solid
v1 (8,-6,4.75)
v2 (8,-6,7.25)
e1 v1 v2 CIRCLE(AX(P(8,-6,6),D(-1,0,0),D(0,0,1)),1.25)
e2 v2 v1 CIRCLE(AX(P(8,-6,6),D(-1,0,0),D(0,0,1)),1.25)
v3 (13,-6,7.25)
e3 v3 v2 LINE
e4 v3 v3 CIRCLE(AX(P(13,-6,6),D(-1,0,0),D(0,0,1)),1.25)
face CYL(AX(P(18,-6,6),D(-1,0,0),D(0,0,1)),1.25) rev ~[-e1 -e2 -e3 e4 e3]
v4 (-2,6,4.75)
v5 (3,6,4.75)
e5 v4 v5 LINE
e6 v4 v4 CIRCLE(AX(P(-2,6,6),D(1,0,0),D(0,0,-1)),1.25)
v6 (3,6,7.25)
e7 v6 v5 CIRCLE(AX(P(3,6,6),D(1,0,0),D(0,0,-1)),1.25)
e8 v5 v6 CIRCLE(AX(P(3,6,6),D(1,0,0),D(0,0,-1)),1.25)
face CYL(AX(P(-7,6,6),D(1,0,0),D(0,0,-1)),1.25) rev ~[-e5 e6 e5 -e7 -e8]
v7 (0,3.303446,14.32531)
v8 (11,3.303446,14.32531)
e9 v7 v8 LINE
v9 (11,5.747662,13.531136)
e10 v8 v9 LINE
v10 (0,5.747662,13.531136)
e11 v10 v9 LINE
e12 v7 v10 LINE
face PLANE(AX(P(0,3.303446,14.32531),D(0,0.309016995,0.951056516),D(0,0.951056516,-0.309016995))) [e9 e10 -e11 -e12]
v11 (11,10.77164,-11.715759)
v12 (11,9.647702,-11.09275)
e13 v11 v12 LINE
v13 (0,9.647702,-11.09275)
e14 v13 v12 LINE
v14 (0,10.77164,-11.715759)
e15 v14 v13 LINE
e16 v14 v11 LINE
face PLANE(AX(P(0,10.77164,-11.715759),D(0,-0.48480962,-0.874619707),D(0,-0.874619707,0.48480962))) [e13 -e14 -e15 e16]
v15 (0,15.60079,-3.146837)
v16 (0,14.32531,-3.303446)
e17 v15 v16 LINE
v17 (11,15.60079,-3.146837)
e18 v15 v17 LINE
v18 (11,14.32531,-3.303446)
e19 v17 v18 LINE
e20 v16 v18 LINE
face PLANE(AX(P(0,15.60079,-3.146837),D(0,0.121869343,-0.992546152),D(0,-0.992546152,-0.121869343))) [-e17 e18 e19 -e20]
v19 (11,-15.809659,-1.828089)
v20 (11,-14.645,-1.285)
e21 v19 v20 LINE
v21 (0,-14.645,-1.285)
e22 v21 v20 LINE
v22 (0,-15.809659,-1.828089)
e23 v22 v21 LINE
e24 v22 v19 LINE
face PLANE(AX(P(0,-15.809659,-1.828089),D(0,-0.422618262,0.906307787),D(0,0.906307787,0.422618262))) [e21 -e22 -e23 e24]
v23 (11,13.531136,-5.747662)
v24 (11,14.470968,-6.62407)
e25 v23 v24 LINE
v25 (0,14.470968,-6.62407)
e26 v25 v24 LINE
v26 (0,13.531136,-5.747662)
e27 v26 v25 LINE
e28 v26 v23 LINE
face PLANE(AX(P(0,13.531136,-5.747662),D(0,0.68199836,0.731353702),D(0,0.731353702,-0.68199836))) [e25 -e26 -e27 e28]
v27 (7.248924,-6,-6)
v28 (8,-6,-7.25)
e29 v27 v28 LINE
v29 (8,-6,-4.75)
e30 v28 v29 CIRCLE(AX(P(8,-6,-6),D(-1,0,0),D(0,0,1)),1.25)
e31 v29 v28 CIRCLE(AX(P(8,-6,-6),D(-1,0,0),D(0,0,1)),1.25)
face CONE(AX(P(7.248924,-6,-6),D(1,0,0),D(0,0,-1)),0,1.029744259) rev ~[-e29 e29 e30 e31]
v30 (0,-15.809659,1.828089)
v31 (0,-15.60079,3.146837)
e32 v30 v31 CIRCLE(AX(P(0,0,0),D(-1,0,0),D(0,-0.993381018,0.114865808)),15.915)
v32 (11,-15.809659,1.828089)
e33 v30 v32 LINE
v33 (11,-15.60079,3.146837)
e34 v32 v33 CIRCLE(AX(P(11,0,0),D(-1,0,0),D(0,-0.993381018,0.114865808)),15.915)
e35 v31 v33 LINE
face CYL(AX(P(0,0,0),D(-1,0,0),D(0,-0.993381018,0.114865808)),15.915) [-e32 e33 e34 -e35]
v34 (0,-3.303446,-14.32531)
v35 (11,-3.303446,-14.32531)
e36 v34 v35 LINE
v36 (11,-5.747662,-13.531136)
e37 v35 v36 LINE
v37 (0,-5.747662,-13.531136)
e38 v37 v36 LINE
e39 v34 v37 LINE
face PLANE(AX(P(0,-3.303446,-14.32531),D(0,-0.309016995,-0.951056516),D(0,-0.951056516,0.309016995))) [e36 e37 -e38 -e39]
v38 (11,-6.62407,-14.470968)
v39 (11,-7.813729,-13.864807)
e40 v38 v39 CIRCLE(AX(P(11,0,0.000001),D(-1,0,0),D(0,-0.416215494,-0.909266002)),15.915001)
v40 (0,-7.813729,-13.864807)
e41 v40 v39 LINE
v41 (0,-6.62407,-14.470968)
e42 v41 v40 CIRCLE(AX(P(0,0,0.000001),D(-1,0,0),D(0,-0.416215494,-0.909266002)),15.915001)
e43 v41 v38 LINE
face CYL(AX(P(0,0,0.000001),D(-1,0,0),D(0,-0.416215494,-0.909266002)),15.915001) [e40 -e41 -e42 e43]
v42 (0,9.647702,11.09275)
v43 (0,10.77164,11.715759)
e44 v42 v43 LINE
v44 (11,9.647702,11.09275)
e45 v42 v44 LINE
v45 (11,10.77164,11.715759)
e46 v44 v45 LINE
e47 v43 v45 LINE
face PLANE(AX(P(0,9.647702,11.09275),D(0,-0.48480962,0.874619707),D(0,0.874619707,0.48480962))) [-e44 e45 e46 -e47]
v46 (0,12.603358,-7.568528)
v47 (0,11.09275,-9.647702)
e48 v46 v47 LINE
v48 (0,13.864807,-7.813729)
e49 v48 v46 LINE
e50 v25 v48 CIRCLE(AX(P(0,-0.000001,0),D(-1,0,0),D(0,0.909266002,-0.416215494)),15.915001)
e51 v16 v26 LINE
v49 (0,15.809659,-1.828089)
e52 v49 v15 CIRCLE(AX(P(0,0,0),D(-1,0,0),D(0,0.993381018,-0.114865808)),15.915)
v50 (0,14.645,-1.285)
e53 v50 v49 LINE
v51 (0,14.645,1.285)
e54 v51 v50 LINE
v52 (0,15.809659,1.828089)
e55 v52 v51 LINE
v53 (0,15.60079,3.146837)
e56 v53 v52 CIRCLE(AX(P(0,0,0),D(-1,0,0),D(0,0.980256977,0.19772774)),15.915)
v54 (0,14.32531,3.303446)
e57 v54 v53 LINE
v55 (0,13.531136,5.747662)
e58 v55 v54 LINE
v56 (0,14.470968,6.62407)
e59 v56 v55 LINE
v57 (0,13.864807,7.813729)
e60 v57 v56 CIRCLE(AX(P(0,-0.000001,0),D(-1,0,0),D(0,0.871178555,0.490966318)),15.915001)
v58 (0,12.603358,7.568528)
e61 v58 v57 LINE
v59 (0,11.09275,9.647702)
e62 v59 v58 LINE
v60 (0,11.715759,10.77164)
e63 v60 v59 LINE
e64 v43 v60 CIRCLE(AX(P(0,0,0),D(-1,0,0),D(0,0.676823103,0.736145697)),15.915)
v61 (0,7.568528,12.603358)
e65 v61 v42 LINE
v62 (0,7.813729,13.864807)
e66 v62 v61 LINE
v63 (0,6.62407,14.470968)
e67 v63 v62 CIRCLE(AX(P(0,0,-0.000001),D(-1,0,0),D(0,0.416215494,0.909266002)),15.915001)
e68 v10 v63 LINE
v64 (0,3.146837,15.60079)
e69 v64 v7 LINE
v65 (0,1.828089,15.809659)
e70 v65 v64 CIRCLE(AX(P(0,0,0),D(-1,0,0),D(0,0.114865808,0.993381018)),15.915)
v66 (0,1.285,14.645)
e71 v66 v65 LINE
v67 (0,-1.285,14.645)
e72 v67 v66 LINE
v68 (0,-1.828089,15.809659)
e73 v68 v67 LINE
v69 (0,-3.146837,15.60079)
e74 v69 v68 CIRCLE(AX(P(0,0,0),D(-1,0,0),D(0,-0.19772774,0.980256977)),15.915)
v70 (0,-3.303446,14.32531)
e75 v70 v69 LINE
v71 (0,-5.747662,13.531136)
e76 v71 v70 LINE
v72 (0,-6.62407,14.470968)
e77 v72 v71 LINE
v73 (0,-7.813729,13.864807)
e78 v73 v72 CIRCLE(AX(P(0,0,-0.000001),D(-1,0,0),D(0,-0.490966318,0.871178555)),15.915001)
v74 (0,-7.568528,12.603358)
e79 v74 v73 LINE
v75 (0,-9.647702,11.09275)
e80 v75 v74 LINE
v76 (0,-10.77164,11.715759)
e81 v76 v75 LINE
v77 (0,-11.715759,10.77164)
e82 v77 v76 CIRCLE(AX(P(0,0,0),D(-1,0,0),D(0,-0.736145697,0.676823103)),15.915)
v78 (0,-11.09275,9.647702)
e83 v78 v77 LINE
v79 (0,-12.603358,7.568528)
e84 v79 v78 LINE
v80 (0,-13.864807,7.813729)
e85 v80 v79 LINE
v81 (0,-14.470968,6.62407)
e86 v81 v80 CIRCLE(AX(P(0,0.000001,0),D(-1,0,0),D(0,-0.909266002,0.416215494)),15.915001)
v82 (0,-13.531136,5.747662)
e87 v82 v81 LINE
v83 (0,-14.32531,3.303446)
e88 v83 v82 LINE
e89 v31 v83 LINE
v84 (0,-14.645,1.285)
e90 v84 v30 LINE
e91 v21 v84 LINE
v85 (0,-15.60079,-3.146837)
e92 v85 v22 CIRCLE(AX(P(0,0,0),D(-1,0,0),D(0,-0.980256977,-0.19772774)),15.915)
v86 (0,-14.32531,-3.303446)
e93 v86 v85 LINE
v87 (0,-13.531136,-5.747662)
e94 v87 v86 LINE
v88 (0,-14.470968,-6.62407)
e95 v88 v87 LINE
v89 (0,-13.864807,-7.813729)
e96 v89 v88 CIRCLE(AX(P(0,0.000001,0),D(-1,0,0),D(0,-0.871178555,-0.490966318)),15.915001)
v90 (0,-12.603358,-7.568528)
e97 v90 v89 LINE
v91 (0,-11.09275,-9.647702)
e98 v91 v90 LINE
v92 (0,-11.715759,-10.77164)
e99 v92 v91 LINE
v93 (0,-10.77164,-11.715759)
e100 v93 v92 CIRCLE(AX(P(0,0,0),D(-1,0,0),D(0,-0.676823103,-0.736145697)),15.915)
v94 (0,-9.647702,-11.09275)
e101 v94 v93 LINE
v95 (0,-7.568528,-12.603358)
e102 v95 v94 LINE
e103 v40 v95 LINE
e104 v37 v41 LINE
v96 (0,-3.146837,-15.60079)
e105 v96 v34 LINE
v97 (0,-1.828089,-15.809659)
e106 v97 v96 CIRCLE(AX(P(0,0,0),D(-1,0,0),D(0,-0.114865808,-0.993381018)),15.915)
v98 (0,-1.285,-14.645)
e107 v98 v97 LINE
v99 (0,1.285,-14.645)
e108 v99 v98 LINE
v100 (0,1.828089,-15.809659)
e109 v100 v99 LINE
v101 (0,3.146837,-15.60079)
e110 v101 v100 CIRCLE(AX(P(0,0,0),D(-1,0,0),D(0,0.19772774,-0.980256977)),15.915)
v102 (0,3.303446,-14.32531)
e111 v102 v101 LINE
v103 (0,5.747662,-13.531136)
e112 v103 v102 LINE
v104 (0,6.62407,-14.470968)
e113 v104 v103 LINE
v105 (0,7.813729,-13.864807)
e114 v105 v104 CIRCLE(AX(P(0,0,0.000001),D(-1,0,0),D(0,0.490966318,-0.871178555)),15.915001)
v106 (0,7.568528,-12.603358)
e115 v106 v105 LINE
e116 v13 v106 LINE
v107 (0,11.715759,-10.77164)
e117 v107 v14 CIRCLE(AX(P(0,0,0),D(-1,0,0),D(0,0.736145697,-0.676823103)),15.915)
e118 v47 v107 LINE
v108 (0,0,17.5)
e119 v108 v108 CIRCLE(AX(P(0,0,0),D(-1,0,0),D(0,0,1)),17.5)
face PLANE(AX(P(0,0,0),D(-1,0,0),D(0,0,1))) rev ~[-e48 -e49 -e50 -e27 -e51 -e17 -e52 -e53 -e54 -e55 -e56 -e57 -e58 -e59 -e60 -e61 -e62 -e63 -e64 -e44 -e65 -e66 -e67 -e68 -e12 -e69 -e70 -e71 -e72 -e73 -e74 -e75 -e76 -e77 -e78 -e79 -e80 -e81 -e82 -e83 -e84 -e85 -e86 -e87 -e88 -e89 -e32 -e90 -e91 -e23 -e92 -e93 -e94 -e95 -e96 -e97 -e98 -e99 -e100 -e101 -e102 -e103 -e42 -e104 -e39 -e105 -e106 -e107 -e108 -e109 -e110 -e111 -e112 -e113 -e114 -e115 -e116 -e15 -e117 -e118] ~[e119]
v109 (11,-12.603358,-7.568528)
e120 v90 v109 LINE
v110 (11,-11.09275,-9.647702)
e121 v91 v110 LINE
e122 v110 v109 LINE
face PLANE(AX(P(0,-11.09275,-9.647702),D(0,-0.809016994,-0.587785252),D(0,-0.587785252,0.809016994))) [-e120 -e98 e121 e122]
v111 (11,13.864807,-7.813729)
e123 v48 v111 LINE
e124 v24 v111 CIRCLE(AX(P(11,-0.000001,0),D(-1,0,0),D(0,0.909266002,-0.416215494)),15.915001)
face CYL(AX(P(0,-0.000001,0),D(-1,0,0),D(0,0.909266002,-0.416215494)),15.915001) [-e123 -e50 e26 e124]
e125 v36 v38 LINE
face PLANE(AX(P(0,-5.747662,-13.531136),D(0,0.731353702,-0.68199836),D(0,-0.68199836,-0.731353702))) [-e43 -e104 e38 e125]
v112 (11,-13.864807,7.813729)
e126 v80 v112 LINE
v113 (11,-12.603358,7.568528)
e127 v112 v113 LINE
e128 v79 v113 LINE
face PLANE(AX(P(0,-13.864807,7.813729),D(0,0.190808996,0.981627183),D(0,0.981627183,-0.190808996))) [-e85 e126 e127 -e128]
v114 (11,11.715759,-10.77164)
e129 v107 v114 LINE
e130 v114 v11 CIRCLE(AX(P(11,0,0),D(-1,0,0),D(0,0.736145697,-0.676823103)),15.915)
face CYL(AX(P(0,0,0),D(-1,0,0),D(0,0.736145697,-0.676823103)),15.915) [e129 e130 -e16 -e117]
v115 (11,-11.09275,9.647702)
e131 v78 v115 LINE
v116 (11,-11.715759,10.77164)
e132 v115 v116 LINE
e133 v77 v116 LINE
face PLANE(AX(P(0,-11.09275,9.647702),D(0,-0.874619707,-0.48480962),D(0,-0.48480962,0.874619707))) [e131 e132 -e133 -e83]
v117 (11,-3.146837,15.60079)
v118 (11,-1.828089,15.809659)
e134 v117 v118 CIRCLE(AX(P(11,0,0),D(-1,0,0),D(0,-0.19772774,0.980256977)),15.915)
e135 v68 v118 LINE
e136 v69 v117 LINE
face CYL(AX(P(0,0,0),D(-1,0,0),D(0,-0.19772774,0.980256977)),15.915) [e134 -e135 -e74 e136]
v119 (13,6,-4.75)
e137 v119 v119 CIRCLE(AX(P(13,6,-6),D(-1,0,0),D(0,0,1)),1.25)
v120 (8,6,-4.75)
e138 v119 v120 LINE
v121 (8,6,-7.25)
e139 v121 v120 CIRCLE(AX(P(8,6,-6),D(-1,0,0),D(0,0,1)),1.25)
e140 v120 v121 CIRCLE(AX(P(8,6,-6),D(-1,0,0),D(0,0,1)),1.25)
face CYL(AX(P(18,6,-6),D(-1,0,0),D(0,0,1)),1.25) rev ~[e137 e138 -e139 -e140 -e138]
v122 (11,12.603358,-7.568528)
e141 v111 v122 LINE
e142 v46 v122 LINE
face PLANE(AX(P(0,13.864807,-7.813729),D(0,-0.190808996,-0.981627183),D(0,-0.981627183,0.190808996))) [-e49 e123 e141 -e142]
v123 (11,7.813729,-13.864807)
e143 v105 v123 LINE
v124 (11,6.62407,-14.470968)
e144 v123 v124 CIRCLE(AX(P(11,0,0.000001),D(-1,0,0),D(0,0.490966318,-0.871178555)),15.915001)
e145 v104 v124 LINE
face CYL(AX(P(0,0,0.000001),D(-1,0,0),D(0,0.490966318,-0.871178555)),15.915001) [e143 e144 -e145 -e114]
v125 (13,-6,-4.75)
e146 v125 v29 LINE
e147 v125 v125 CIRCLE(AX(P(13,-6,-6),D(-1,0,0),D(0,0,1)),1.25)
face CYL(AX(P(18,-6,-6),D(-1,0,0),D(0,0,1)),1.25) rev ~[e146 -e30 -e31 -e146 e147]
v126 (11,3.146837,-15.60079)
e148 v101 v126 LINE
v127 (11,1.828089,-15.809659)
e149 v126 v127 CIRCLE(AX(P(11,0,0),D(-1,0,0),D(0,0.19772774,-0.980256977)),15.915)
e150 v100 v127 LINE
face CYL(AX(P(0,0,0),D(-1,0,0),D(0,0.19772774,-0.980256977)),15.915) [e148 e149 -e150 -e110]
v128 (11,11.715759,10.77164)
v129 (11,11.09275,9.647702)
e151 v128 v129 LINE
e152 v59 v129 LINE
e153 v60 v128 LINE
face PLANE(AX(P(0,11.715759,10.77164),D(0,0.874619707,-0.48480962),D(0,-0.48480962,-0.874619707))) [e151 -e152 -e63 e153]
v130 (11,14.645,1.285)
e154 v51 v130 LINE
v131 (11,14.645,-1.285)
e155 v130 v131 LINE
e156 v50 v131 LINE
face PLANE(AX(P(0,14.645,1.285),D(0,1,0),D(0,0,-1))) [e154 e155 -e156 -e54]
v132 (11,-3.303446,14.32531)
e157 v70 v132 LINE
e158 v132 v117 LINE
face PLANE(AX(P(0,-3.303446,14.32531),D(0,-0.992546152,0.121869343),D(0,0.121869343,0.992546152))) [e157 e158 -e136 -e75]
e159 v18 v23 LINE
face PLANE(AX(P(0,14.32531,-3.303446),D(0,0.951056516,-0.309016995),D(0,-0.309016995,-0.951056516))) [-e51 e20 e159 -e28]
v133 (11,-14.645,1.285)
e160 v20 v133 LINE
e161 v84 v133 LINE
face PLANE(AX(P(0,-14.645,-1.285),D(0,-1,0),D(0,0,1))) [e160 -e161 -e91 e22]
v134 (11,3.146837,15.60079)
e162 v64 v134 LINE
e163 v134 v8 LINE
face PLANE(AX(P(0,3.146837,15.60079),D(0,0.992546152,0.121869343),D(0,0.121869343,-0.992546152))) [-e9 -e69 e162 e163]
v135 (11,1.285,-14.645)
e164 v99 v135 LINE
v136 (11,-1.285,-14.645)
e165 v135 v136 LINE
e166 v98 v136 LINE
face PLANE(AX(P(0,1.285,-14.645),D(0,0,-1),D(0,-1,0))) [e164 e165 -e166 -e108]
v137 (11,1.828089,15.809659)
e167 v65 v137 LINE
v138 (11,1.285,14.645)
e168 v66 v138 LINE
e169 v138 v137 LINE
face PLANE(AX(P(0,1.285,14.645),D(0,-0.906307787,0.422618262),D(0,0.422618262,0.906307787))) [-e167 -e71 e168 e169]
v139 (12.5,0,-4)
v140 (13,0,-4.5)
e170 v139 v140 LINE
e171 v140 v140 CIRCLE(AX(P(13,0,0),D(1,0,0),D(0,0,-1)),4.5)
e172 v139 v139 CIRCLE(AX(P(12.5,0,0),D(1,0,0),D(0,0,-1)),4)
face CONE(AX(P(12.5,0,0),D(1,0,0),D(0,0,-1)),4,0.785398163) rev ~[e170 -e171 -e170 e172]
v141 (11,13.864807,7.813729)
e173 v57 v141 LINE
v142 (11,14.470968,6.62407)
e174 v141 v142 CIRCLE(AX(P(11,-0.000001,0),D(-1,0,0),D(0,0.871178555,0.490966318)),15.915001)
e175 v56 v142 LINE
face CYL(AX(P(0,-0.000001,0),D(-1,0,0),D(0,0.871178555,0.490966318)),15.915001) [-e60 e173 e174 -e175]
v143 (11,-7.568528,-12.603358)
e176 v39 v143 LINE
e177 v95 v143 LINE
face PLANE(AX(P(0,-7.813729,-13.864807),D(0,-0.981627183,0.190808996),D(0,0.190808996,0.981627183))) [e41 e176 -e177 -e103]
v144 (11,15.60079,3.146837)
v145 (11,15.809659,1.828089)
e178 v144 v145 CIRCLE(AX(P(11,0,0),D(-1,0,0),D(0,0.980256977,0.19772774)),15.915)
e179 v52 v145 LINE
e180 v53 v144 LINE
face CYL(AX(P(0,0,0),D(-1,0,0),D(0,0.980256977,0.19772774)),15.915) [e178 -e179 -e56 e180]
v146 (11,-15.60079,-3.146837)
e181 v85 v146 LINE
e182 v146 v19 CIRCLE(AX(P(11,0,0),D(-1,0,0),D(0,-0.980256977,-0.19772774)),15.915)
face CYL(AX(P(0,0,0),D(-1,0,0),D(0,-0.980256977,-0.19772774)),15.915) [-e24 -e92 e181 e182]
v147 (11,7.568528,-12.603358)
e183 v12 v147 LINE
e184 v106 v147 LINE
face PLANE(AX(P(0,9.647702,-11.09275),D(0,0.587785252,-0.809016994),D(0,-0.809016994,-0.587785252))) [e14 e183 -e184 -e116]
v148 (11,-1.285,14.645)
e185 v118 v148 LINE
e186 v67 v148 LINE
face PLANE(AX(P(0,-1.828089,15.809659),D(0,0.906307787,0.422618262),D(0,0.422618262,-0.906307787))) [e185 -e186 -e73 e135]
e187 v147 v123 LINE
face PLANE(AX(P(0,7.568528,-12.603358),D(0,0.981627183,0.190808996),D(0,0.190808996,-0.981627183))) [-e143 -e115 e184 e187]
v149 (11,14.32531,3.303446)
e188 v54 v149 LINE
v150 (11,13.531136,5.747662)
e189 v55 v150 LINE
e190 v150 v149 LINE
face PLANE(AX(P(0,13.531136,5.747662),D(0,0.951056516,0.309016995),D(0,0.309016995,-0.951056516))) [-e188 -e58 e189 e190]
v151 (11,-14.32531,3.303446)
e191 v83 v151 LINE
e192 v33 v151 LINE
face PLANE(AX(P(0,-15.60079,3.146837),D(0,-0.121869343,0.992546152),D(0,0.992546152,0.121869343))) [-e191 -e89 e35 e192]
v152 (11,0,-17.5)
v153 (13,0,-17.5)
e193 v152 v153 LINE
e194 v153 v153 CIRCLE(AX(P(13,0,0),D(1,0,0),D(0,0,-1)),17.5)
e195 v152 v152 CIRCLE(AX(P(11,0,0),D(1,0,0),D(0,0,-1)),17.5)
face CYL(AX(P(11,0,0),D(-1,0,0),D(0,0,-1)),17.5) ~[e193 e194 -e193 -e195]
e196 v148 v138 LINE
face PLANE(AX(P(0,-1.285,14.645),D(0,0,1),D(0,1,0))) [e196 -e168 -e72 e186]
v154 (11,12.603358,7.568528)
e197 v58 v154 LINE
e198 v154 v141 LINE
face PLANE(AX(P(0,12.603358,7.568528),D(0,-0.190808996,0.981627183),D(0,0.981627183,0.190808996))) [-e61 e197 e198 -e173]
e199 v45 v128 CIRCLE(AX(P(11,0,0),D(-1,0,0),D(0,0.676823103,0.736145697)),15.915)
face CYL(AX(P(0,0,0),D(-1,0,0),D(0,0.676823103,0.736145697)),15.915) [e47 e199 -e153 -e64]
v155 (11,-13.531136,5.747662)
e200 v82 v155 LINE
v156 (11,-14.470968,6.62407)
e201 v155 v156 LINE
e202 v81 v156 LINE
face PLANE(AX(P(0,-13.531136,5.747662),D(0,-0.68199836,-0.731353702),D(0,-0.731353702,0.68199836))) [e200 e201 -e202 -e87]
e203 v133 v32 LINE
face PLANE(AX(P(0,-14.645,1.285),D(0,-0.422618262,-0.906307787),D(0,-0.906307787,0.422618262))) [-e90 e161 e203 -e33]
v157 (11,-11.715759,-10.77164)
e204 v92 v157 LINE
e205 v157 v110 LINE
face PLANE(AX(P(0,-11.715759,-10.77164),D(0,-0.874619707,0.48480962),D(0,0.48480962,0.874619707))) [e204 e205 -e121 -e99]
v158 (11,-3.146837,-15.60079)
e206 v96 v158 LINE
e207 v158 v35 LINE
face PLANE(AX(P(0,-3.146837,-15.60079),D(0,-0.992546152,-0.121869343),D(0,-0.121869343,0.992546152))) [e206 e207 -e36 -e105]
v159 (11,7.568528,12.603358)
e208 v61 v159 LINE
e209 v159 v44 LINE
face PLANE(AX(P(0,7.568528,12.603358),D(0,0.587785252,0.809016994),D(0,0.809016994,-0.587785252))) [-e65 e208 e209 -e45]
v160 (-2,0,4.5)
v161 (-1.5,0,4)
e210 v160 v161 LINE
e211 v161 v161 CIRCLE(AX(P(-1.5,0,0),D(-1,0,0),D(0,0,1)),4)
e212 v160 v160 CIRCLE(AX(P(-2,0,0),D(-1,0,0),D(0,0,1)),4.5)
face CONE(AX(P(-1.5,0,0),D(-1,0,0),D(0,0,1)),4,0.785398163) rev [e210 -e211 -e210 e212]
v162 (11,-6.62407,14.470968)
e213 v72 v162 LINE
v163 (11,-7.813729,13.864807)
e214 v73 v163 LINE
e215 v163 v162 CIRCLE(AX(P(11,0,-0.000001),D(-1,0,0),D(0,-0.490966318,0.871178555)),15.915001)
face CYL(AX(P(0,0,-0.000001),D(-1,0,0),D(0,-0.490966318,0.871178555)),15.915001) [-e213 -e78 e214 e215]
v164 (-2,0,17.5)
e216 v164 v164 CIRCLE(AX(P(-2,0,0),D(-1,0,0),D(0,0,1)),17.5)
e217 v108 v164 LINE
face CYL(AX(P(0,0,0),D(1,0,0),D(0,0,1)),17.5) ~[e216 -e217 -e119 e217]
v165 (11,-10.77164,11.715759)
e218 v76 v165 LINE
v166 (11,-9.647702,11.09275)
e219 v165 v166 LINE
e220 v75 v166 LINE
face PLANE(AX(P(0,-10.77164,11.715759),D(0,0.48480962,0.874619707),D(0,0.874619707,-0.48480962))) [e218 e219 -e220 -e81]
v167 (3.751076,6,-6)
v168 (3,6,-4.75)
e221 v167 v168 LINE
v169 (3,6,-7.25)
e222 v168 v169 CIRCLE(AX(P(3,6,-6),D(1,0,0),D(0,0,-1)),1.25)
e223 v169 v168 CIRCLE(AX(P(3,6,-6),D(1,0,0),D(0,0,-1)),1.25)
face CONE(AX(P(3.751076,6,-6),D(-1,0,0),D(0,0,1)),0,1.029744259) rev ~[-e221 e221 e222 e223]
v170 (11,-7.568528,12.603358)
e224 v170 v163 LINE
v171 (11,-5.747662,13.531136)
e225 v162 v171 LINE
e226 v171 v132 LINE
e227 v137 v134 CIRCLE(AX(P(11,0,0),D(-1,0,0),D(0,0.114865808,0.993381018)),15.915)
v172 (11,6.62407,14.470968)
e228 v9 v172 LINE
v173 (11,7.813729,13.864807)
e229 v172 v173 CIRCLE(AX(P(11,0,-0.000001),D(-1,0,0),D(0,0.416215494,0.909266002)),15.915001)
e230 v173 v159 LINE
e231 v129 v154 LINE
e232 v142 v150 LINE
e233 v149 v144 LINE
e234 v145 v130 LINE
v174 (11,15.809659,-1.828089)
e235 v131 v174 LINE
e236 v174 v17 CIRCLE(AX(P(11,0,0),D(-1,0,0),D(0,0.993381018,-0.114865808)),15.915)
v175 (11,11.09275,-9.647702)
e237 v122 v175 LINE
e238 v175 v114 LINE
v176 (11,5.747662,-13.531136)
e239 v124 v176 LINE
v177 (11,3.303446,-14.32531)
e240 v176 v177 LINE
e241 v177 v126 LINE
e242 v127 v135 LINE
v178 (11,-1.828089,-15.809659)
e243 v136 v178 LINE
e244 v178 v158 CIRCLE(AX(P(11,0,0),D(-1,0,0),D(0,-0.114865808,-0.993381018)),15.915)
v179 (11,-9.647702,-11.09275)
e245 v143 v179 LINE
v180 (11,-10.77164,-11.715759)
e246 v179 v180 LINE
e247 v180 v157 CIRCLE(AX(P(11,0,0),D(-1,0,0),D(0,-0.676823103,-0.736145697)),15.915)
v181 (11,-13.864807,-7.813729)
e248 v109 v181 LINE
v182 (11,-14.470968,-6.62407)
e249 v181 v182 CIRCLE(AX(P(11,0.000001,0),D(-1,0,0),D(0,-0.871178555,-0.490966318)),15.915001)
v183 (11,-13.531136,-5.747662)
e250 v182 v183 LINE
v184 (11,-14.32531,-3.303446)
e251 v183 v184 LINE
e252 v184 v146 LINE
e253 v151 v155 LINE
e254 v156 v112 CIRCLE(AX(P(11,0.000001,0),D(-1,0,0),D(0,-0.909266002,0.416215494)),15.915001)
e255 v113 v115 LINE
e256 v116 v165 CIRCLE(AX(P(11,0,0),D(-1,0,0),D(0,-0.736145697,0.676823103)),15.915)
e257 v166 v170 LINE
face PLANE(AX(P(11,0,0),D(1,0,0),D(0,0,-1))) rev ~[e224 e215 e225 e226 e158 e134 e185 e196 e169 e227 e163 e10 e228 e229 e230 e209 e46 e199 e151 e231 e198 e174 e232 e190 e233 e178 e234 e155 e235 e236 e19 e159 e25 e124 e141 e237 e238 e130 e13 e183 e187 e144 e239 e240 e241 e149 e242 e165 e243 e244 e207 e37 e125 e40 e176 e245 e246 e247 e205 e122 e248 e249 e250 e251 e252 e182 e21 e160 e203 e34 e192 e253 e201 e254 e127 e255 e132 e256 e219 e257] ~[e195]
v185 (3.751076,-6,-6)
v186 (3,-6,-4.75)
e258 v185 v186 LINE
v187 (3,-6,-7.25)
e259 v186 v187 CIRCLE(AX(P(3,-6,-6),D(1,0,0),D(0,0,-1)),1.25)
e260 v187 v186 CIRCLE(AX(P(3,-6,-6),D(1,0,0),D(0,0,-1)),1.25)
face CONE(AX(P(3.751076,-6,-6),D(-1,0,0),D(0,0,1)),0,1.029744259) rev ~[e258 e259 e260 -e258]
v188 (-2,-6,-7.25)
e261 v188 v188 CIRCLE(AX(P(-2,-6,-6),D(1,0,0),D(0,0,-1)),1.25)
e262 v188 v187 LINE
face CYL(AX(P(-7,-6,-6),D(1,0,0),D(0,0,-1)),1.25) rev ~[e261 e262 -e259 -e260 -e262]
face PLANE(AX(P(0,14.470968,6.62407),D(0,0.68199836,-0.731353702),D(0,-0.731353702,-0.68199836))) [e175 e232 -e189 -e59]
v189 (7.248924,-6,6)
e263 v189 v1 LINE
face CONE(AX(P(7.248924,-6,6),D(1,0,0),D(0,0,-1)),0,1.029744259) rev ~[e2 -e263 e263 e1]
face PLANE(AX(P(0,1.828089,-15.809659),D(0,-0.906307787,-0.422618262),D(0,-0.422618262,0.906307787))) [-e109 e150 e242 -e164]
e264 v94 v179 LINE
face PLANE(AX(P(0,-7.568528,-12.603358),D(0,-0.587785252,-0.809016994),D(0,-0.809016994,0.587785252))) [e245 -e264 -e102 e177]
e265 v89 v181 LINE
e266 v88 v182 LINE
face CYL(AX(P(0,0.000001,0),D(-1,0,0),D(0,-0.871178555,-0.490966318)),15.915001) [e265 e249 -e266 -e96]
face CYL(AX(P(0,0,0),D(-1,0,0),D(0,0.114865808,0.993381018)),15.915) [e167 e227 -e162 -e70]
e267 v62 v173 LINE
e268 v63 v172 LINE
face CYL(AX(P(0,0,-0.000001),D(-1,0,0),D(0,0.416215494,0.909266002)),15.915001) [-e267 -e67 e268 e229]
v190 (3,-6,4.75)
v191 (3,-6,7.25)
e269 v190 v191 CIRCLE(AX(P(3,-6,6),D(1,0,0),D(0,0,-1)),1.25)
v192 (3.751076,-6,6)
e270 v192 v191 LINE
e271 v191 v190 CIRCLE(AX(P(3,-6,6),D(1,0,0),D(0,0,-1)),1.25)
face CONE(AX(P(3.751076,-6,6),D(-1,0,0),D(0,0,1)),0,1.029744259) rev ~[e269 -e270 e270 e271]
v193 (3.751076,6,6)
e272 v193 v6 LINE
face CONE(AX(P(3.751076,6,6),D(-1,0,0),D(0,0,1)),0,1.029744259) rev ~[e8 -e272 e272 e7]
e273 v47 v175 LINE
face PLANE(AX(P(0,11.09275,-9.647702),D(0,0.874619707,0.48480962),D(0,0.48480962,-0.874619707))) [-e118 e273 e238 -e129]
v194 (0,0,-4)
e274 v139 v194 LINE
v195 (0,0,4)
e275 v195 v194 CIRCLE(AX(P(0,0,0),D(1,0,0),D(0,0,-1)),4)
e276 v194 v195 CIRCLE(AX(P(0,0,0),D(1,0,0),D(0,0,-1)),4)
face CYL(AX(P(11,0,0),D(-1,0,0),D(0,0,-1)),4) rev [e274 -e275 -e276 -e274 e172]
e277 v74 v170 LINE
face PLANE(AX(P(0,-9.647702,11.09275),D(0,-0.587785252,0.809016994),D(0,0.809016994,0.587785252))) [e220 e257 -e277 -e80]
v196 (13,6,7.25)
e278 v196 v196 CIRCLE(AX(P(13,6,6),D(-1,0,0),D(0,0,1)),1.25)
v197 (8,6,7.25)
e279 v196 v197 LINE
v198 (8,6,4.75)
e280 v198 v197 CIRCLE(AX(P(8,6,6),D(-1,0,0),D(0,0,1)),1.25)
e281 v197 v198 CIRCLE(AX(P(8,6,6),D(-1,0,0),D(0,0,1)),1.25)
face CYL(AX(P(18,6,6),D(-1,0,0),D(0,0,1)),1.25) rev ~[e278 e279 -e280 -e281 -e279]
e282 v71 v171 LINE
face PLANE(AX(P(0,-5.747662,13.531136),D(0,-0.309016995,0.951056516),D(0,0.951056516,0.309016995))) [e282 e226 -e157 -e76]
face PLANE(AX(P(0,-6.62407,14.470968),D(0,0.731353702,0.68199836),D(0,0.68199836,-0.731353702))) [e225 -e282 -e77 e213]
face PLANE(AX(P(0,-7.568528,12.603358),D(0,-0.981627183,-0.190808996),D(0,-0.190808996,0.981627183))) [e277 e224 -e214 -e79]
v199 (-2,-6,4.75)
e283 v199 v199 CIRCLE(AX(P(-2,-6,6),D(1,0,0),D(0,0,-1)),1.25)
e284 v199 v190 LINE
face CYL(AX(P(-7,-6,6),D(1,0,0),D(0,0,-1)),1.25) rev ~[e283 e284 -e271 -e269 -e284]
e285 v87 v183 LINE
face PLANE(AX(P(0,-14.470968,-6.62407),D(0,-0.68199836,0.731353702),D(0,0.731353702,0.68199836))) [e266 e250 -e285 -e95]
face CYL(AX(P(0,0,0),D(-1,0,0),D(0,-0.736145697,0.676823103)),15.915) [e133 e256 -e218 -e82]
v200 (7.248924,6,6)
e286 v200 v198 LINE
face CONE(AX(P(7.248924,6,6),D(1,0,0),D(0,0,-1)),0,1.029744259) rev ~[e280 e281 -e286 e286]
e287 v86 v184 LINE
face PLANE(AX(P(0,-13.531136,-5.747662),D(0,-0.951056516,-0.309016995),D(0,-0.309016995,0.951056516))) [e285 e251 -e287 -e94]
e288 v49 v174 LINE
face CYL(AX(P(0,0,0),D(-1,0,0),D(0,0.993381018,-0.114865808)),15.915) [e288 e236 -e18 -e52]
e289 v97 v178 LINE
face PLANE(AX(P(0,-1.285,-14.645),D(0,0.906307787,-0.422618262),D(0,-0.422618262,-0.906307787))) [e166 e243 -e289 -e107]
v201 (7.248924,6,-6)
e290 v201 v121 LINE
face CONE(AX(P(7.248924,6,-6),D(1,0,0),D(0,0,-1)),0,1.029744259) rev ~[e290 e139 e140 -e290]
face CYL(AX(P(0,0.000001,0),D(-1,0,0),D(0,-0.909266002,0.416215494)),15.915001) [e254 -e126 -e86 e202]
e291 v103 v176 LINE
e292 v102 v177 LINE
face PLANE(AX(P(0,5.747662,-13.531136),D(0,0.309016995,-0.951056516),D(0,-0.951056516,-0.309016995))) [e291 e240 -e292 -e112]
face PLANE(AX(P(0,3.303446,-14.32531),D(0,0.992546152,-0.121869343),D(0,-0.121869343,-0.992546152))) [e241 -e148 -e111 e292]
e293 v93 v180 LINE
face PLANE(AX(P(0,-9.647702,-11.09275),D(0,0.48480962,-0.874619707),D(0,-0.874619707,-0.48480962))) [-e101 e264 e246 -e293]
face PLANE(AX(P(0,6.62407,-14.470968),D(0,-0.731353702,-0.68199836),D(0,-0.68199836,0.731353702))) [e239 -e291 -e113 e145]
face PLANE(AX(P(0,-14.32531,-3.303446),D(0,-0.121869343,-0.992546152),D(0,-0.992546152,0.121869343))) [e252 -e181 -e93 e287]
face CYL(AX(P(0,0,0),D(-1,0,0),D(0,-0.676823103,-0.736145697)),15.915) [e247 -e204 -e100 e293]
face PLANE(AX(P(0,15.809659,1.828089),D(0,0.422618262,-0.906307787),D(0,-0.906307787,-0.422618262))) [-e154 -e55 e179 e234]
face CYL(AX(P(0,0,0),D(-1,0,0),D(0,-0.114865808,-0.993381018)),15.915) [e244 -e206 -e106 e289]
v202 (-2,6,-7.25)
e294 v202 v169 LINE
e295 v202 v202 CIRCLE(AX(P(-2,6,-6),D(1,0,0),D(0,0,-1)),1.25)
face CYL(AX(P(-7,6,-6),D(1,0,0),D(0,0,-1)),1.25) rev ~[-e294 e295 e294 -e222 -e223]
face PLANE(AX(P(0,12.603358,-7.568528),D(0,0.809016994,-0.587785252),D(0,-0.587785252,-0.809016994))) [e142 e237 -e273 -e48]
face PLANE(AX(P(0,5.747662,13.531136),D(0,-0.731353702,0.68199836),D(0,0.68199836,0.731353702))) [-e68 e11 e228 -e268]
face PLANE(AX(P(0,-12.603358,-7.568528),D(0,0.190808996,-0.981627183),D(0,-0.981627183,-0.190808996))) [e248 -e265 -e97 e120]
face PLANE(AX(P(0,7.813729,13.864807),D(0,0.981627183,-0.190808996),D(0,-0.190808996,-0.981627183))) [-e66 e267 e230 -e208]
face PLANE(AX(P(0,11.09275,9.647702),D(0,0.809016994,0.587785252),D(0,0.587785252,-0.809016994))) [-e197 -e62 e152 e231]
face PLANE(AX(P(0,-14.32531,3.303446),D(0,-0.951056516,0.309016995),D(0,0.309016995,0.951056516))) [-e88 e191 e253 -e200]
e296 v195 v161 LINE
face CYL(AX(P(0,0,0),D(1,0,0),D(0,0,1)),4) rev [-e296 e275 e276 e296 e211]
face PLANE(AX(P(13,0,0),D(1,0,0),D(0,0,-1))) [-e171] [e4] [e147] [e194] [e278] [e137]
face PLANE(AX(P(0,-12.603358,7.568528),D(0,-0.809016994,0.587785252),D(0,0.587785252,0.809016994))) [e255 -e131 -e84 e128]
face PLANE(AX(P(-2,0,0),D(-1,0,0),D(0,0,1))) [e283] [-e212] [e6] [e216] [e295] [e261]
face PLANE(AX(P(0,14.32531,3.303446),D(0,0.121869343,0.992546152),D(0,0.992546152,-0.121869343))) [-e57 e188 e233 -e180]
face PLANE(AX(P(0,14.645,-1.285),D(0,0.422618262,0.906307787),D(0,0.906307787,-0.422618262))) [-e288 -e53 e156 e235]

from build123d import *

# Parameters (mm, degrees)
SKETCH_1_R             = 4
EXTRUDE_1_DEPTH        = 11
SKETCH_2_R             = 17.5
SKETCH_2_R_2           = 4
EXTRUDE_2_DEPTH        = 2
SKETCH_3_R             = 17.5
SKETCH_3_R_2           = 4
EXTRUDE_3_DEPTH        = 2
CHAMFER_1_SIZE         = 0.5
HOLE_WIZARD_M3_1_D     = 2.5
HOLE_WIZARD_M3_1_DEPTH = 5
HOLE_WIZARD_M3_1_TIP   = 0.751075774
HOLE_WIZARD_M3_2_D     = 2.5
HOLE_WIZARD_M3_2_DEPTH = 5
HOLE_WIZARD_M3_2_TIP   = 0.751075774


with BuildPart() as part:
    # 草图1 → 凸台-拉伸1 (new body)
    with BuildSketch(Plane(origin=(0, 0, 0), x_dir=(0, 0, -1), z_dir=(1, 0, 0))):
        with BuildLine():
            Line((-1.285, 14.645), (1.285, 14.645))
            Line((1.285, 14.645), (1.828089361, 15.809658892))
            ThreePointArc((1.828089361, 15.809658892), (2.489654511, 15.719059941), (3.146836974, 15.60078979))
            Line((3.146836974, 15.60078979), (3.303446259, 14.325309519))
            Line((3.303446259, 14.325309519), (5.747661506, 13.531135843))
            Line((5.747661506, 13.531135843), (6.624069572, 14.47096843))
            ThreePointArc((6.624069572, 14.47096843), (7.225258803, 14.180368832), (7.813728981, 13.864806685))
            Line((7.813728981, 13.864806685), (7.568528182, 12.603357932))
            Line((7.568528182, 12.603357932), (9.647701858, 11.092749833))
            Line((9.647701858, 11.092749833), (10.771639701, 11.715758753))
            ThreePointArc((10.771639701, 11.715758753), (11.253604423, 11.253604423), (11.715758753, 10.771639701))
            Line((11.715758753, 10.771639701), (11.092749833, 9.647701858))
            Line((11.092749833, 9.647701858), (12.603357932, 7.568528182))
            Line((12.603357932, 7.568528182), (13.864806685, 7.813728981))
            ThreePointArc((13.864806685, 7.813728981), (14.180368832, 7.225258803), (14.47096843, 6.624069572))
            Line((14.47096843, 6.624069572), (13.531135843, 5.747661506))
            Line((13.531135843, 5.747661506), (14.325309519, 3.303446259))
            Line((14.325309519, 3.303446259), (15.60078979, 3.146836974))
            ThreePointArc((15.60078979, 3.146836974), (15.719059941, 2.489654511), (15.809658892, 1.828089361))
            Line((15.809658892, 1.828089361), (14.645, 1.285))
            Line((14.645, 1.285), (14.645, -1.285))
            Line((14.645, -1.285), (15.809658892, -1.828089361))
            ThreePointArc((15.809658892, -1.828089361), (15.719059941, -2.489654511), (15.60078979, -3.146836974))
            Line((15.60078979, -3.146836974), (14.325309519, -3.303446259))
            Line((14.325309519, -3.303446259), (13.531135843, -5.747661506))
            Line((13.531135843, -5.747661506), (14.47096843, -6.624069572))
            ThreePointArc((14.47096843, -6.624069572), (14.180368832, -7.225258803), (13.864806685, -7.813728981))
            Line((13.864806685, -7.813728981), (12.603357932, -7.568528182))
            Line((12.603357932, -7.568528182), (11.092749833, -9.647701858))
            Line((11.092749833, -9.647701858), (11.715758753, -10.771639701))
            ThreePointArc((11.715758753, -10.771639701), (11.253604423, -11.253604423), (10.771639701, -11.715758753))
            Line((10.771639701, -11.715758753), (9.647701858, -11.092749833))
            Line((9.647701858, -11.092749833), (7.568528182, -12.603357932))
            Line((7.568528182, -12.603357932), (7.813728981, -13.864806685))
            ThreePointArc((7.813728981, -13.864806685), (7.225258803, -14.180368832), (6.624069572, -14.47096843))
            Line((6.624069572, -14.47096843), (5.747661506, -13.531135843))
            Line((5.747661506, -13.531135843), (3.303446259, -14.325309519))
            Line((3.303446259, -14.325309519), (3.146836974, -15.60078979))
            ThreePointArc((3.146836974, -15.60078979), (2.489654511, -15.719059941), (1.828089361, -15.809658892))
            Line((1.828089361, -15.809658892), (1.285, -14.645))
            Line((1.285, -14.645), (-1.285, -14.645))
            Line((-1.285, -14.645), (-1.828089361, -15.809658892))
            ThreePointArc((-1.828089361, -15.809658892), (-2.489654511, -15.719059941), (-3.146836974, -15.60078979))
            Line((-3.146836974, -15.60078979), (-3.303446259, -14.325309519))
            Line((-3.303446259, -14.325309519), (-5.747661506, -13.531135843))
            Line((-5.747661506, -13.531135843), (-6.624069572, -14.47096843))
            ThreePointArc((-6.624069572, -14.47096843), (-7.225258803, -14.180368832), (-7.813728981, -13.864806685))
            Line((-7.813728981, -13.864806685), (-7.568528182, -12.603357932))
            Line((-7.568528182, -12.603357932), (-9.647701858, -11.092749833))
            Line((-9.647701858, -11.092749833), (-10.771639701, -11.715758753))
            ThreePointArc((-10.771639701, -11.715758753), (-11.253604423, -11.253604423), (-11.715758753, -10.771639701))
            Line((-11.715758753, -10.771639701), (-11.092749833, -9.647701858))
            Line((-11.092749833, -9.647701858), (-12.603357932, -7.568528182))
            Line((-12.603357932, -7.568528182), (-13.864806685, -7.813728981))
            ThreePointArc((-13.864806685, -7.813728981), (-14.180368832, -7.225258803), (-14.47096843, -6.624069572))
            Line((-14.47096843, -6.624069572), (-13.531135843, -5.747661506))
            Line((-13.531135843, -5.747661506), (-14.325309519, -3.303446259))
            Line((-14.325309519, -3.303446259), (-15.60078979, -3.146836974))
            ThreePointArc((-15.60078979, -3.146836974), (-15.719059941, -2.489654511), (-15.809658892, -1.828089361))
            Line((-15.809658892, -1.828089361), (-14.645, -1.285))
            Line((-14.645, -1.285), (-14.645, 1.285))
            Line((-14.645, 1.285), (-15.809658892, 1.828089361))
            ThreePointArc((-15.809658892, 1.828089361), (-15.719059941, 2.489654511), (-15.60078979, 3.146836974))
            Line((-15.60078979, 3.146836974), (-14.325309519, 3.303446259))
            Line((-14.325309519, 3.303446259), (-13.531135843, 5.747661506))
            Line((-13.531135843, 5.747661506), (-14.47096843, 6.624069572))
            ThreePointArc((-14.47096843, 6.624069572), (-14.180368832, 7.225258803), (-13.864806685, 7.813728981))
            Line((-13.864806685, 7.813728981), (-12.603357932, 7.568528182))
            Line((-12.603357932, 7.568528182), (-11.092749833, 9.647701858))
            Line((-11.092749833, 9.647701858), (-11.715758753, 10.771639701))
            ThreePointArc((-11.715758753, 10.771639701), (-11.253604423, 11.253604423), (-10.771639701, 11.715758753))
            Line((-10.771639701, 11.715758753), (-9.647701858, 11.092749833))
            Line((-9.647701858, 11.092749833), (-7.568528182, 12.603357932))
            Line((-7.568528182, 12.603357932), (-7.813728981, 13.864806685))
            ThreePointArc((-7.813728981, 13.864806685), (-7.225258803, 14.180368832), (-6.624069572, 14.47096843))
            Line((-6.624069572, 14.47096843), (-5.747661506, 13.531135843))
            Line((-5.747661506, 13.531135843), (-3.303446259, 14.325309519))
            Line((-3.303446259, 14.325309519), (-3.146836974, 15.60078979))
            ThreePointArc((-3.146836974, 15.60078979), (-2.489654511, 15.719059941), (-1.828089361, 15.809658892))
            Line((-1.828089361, 15.809658892), (-1.285, 14.645))
        make_face()
        Circle(SKETCH_1_R, mode=Mode.SUBTRACT)
    extrude(amount=EXTRUDE_1_DEPTH)

    # 草图2 → 凸台-拉伸2 (add)
    with BuildSketch(Plane(origin=(11, 0, 0), x_dir=(0, 0, -1), z_dir=(1, 0, 0))):
        Circle(SKETCH_2_R)
        Circle(SKETCH_2_R_2, mode=Mode.SUBTRACT)
    extrude(amount=EXTRUDE_2_DEPTH)

    # 草图3 → 凸台-拉伸3 (add)
    with BuildSketch(Plane.ZY):
        Circle(SKETCH_3_R)
        Circle(SKETCH_3_R_2, mode=Mode.SUBTRACT)
    extrude(amount=EXTRUDE_3_DEPTH)

    # 倒角1
    chamfer_1_edges = [part.edges().sort_by_distance(p)[0] for p in [
        (13, 0, 4),
        (-2, 0, -4),
    ]]
    chamfer(chamfer_1_edges, length=CHAMFER_1_SIZE)

    # M3 螺纹孔1
    with Locations(Plane(origin=(13, 0, 0), x_dir=(0, 0, -1), z_dir=(1, 0, 0))):
        with Locations((-6, 6), (6, 6), (6, -6), (-6, -6)):
            Hole(HOLE_WIZARD_M3_1_D / 2, depth=HOLE_WIZARD_M3_1_DEPTH)
            with Locations((0, 0, -(HOLE_WIZARD_M3_1_DEPTH + HOLE_WIZARD_M3_1_TIP / 2))):  # 118° drill point
                Cone(0, HOLE_WIZARD_M3_1_D / 2, HOLE_WIZARD_M3_1_TIP, mode=Mode.SUBTRACT)

    # M3 螺纹孔2
    with Locations(Plane.ZY.offset(2)):
        with Locations((-6, 6), (6, 6), (6, -6), (-6, -6)):
            Hole(HOLE_WIZARD_M3_2_D / 2, depth=HOLE_WIZARD_M3_2_DEPTH)
            with Locations((0, 0, -(HOLE_WIZARD_M3_2_DEPTH + HOLE_WIZARD_M3_2_TIP / 2))):  # 118° drill point
                Cone(0, HOLE_WIZARD_M3_2_D / 2, HOLE_WIZARD_M3_2_TIP, mode=Mode.SUBTRACT)


solid = part.part
